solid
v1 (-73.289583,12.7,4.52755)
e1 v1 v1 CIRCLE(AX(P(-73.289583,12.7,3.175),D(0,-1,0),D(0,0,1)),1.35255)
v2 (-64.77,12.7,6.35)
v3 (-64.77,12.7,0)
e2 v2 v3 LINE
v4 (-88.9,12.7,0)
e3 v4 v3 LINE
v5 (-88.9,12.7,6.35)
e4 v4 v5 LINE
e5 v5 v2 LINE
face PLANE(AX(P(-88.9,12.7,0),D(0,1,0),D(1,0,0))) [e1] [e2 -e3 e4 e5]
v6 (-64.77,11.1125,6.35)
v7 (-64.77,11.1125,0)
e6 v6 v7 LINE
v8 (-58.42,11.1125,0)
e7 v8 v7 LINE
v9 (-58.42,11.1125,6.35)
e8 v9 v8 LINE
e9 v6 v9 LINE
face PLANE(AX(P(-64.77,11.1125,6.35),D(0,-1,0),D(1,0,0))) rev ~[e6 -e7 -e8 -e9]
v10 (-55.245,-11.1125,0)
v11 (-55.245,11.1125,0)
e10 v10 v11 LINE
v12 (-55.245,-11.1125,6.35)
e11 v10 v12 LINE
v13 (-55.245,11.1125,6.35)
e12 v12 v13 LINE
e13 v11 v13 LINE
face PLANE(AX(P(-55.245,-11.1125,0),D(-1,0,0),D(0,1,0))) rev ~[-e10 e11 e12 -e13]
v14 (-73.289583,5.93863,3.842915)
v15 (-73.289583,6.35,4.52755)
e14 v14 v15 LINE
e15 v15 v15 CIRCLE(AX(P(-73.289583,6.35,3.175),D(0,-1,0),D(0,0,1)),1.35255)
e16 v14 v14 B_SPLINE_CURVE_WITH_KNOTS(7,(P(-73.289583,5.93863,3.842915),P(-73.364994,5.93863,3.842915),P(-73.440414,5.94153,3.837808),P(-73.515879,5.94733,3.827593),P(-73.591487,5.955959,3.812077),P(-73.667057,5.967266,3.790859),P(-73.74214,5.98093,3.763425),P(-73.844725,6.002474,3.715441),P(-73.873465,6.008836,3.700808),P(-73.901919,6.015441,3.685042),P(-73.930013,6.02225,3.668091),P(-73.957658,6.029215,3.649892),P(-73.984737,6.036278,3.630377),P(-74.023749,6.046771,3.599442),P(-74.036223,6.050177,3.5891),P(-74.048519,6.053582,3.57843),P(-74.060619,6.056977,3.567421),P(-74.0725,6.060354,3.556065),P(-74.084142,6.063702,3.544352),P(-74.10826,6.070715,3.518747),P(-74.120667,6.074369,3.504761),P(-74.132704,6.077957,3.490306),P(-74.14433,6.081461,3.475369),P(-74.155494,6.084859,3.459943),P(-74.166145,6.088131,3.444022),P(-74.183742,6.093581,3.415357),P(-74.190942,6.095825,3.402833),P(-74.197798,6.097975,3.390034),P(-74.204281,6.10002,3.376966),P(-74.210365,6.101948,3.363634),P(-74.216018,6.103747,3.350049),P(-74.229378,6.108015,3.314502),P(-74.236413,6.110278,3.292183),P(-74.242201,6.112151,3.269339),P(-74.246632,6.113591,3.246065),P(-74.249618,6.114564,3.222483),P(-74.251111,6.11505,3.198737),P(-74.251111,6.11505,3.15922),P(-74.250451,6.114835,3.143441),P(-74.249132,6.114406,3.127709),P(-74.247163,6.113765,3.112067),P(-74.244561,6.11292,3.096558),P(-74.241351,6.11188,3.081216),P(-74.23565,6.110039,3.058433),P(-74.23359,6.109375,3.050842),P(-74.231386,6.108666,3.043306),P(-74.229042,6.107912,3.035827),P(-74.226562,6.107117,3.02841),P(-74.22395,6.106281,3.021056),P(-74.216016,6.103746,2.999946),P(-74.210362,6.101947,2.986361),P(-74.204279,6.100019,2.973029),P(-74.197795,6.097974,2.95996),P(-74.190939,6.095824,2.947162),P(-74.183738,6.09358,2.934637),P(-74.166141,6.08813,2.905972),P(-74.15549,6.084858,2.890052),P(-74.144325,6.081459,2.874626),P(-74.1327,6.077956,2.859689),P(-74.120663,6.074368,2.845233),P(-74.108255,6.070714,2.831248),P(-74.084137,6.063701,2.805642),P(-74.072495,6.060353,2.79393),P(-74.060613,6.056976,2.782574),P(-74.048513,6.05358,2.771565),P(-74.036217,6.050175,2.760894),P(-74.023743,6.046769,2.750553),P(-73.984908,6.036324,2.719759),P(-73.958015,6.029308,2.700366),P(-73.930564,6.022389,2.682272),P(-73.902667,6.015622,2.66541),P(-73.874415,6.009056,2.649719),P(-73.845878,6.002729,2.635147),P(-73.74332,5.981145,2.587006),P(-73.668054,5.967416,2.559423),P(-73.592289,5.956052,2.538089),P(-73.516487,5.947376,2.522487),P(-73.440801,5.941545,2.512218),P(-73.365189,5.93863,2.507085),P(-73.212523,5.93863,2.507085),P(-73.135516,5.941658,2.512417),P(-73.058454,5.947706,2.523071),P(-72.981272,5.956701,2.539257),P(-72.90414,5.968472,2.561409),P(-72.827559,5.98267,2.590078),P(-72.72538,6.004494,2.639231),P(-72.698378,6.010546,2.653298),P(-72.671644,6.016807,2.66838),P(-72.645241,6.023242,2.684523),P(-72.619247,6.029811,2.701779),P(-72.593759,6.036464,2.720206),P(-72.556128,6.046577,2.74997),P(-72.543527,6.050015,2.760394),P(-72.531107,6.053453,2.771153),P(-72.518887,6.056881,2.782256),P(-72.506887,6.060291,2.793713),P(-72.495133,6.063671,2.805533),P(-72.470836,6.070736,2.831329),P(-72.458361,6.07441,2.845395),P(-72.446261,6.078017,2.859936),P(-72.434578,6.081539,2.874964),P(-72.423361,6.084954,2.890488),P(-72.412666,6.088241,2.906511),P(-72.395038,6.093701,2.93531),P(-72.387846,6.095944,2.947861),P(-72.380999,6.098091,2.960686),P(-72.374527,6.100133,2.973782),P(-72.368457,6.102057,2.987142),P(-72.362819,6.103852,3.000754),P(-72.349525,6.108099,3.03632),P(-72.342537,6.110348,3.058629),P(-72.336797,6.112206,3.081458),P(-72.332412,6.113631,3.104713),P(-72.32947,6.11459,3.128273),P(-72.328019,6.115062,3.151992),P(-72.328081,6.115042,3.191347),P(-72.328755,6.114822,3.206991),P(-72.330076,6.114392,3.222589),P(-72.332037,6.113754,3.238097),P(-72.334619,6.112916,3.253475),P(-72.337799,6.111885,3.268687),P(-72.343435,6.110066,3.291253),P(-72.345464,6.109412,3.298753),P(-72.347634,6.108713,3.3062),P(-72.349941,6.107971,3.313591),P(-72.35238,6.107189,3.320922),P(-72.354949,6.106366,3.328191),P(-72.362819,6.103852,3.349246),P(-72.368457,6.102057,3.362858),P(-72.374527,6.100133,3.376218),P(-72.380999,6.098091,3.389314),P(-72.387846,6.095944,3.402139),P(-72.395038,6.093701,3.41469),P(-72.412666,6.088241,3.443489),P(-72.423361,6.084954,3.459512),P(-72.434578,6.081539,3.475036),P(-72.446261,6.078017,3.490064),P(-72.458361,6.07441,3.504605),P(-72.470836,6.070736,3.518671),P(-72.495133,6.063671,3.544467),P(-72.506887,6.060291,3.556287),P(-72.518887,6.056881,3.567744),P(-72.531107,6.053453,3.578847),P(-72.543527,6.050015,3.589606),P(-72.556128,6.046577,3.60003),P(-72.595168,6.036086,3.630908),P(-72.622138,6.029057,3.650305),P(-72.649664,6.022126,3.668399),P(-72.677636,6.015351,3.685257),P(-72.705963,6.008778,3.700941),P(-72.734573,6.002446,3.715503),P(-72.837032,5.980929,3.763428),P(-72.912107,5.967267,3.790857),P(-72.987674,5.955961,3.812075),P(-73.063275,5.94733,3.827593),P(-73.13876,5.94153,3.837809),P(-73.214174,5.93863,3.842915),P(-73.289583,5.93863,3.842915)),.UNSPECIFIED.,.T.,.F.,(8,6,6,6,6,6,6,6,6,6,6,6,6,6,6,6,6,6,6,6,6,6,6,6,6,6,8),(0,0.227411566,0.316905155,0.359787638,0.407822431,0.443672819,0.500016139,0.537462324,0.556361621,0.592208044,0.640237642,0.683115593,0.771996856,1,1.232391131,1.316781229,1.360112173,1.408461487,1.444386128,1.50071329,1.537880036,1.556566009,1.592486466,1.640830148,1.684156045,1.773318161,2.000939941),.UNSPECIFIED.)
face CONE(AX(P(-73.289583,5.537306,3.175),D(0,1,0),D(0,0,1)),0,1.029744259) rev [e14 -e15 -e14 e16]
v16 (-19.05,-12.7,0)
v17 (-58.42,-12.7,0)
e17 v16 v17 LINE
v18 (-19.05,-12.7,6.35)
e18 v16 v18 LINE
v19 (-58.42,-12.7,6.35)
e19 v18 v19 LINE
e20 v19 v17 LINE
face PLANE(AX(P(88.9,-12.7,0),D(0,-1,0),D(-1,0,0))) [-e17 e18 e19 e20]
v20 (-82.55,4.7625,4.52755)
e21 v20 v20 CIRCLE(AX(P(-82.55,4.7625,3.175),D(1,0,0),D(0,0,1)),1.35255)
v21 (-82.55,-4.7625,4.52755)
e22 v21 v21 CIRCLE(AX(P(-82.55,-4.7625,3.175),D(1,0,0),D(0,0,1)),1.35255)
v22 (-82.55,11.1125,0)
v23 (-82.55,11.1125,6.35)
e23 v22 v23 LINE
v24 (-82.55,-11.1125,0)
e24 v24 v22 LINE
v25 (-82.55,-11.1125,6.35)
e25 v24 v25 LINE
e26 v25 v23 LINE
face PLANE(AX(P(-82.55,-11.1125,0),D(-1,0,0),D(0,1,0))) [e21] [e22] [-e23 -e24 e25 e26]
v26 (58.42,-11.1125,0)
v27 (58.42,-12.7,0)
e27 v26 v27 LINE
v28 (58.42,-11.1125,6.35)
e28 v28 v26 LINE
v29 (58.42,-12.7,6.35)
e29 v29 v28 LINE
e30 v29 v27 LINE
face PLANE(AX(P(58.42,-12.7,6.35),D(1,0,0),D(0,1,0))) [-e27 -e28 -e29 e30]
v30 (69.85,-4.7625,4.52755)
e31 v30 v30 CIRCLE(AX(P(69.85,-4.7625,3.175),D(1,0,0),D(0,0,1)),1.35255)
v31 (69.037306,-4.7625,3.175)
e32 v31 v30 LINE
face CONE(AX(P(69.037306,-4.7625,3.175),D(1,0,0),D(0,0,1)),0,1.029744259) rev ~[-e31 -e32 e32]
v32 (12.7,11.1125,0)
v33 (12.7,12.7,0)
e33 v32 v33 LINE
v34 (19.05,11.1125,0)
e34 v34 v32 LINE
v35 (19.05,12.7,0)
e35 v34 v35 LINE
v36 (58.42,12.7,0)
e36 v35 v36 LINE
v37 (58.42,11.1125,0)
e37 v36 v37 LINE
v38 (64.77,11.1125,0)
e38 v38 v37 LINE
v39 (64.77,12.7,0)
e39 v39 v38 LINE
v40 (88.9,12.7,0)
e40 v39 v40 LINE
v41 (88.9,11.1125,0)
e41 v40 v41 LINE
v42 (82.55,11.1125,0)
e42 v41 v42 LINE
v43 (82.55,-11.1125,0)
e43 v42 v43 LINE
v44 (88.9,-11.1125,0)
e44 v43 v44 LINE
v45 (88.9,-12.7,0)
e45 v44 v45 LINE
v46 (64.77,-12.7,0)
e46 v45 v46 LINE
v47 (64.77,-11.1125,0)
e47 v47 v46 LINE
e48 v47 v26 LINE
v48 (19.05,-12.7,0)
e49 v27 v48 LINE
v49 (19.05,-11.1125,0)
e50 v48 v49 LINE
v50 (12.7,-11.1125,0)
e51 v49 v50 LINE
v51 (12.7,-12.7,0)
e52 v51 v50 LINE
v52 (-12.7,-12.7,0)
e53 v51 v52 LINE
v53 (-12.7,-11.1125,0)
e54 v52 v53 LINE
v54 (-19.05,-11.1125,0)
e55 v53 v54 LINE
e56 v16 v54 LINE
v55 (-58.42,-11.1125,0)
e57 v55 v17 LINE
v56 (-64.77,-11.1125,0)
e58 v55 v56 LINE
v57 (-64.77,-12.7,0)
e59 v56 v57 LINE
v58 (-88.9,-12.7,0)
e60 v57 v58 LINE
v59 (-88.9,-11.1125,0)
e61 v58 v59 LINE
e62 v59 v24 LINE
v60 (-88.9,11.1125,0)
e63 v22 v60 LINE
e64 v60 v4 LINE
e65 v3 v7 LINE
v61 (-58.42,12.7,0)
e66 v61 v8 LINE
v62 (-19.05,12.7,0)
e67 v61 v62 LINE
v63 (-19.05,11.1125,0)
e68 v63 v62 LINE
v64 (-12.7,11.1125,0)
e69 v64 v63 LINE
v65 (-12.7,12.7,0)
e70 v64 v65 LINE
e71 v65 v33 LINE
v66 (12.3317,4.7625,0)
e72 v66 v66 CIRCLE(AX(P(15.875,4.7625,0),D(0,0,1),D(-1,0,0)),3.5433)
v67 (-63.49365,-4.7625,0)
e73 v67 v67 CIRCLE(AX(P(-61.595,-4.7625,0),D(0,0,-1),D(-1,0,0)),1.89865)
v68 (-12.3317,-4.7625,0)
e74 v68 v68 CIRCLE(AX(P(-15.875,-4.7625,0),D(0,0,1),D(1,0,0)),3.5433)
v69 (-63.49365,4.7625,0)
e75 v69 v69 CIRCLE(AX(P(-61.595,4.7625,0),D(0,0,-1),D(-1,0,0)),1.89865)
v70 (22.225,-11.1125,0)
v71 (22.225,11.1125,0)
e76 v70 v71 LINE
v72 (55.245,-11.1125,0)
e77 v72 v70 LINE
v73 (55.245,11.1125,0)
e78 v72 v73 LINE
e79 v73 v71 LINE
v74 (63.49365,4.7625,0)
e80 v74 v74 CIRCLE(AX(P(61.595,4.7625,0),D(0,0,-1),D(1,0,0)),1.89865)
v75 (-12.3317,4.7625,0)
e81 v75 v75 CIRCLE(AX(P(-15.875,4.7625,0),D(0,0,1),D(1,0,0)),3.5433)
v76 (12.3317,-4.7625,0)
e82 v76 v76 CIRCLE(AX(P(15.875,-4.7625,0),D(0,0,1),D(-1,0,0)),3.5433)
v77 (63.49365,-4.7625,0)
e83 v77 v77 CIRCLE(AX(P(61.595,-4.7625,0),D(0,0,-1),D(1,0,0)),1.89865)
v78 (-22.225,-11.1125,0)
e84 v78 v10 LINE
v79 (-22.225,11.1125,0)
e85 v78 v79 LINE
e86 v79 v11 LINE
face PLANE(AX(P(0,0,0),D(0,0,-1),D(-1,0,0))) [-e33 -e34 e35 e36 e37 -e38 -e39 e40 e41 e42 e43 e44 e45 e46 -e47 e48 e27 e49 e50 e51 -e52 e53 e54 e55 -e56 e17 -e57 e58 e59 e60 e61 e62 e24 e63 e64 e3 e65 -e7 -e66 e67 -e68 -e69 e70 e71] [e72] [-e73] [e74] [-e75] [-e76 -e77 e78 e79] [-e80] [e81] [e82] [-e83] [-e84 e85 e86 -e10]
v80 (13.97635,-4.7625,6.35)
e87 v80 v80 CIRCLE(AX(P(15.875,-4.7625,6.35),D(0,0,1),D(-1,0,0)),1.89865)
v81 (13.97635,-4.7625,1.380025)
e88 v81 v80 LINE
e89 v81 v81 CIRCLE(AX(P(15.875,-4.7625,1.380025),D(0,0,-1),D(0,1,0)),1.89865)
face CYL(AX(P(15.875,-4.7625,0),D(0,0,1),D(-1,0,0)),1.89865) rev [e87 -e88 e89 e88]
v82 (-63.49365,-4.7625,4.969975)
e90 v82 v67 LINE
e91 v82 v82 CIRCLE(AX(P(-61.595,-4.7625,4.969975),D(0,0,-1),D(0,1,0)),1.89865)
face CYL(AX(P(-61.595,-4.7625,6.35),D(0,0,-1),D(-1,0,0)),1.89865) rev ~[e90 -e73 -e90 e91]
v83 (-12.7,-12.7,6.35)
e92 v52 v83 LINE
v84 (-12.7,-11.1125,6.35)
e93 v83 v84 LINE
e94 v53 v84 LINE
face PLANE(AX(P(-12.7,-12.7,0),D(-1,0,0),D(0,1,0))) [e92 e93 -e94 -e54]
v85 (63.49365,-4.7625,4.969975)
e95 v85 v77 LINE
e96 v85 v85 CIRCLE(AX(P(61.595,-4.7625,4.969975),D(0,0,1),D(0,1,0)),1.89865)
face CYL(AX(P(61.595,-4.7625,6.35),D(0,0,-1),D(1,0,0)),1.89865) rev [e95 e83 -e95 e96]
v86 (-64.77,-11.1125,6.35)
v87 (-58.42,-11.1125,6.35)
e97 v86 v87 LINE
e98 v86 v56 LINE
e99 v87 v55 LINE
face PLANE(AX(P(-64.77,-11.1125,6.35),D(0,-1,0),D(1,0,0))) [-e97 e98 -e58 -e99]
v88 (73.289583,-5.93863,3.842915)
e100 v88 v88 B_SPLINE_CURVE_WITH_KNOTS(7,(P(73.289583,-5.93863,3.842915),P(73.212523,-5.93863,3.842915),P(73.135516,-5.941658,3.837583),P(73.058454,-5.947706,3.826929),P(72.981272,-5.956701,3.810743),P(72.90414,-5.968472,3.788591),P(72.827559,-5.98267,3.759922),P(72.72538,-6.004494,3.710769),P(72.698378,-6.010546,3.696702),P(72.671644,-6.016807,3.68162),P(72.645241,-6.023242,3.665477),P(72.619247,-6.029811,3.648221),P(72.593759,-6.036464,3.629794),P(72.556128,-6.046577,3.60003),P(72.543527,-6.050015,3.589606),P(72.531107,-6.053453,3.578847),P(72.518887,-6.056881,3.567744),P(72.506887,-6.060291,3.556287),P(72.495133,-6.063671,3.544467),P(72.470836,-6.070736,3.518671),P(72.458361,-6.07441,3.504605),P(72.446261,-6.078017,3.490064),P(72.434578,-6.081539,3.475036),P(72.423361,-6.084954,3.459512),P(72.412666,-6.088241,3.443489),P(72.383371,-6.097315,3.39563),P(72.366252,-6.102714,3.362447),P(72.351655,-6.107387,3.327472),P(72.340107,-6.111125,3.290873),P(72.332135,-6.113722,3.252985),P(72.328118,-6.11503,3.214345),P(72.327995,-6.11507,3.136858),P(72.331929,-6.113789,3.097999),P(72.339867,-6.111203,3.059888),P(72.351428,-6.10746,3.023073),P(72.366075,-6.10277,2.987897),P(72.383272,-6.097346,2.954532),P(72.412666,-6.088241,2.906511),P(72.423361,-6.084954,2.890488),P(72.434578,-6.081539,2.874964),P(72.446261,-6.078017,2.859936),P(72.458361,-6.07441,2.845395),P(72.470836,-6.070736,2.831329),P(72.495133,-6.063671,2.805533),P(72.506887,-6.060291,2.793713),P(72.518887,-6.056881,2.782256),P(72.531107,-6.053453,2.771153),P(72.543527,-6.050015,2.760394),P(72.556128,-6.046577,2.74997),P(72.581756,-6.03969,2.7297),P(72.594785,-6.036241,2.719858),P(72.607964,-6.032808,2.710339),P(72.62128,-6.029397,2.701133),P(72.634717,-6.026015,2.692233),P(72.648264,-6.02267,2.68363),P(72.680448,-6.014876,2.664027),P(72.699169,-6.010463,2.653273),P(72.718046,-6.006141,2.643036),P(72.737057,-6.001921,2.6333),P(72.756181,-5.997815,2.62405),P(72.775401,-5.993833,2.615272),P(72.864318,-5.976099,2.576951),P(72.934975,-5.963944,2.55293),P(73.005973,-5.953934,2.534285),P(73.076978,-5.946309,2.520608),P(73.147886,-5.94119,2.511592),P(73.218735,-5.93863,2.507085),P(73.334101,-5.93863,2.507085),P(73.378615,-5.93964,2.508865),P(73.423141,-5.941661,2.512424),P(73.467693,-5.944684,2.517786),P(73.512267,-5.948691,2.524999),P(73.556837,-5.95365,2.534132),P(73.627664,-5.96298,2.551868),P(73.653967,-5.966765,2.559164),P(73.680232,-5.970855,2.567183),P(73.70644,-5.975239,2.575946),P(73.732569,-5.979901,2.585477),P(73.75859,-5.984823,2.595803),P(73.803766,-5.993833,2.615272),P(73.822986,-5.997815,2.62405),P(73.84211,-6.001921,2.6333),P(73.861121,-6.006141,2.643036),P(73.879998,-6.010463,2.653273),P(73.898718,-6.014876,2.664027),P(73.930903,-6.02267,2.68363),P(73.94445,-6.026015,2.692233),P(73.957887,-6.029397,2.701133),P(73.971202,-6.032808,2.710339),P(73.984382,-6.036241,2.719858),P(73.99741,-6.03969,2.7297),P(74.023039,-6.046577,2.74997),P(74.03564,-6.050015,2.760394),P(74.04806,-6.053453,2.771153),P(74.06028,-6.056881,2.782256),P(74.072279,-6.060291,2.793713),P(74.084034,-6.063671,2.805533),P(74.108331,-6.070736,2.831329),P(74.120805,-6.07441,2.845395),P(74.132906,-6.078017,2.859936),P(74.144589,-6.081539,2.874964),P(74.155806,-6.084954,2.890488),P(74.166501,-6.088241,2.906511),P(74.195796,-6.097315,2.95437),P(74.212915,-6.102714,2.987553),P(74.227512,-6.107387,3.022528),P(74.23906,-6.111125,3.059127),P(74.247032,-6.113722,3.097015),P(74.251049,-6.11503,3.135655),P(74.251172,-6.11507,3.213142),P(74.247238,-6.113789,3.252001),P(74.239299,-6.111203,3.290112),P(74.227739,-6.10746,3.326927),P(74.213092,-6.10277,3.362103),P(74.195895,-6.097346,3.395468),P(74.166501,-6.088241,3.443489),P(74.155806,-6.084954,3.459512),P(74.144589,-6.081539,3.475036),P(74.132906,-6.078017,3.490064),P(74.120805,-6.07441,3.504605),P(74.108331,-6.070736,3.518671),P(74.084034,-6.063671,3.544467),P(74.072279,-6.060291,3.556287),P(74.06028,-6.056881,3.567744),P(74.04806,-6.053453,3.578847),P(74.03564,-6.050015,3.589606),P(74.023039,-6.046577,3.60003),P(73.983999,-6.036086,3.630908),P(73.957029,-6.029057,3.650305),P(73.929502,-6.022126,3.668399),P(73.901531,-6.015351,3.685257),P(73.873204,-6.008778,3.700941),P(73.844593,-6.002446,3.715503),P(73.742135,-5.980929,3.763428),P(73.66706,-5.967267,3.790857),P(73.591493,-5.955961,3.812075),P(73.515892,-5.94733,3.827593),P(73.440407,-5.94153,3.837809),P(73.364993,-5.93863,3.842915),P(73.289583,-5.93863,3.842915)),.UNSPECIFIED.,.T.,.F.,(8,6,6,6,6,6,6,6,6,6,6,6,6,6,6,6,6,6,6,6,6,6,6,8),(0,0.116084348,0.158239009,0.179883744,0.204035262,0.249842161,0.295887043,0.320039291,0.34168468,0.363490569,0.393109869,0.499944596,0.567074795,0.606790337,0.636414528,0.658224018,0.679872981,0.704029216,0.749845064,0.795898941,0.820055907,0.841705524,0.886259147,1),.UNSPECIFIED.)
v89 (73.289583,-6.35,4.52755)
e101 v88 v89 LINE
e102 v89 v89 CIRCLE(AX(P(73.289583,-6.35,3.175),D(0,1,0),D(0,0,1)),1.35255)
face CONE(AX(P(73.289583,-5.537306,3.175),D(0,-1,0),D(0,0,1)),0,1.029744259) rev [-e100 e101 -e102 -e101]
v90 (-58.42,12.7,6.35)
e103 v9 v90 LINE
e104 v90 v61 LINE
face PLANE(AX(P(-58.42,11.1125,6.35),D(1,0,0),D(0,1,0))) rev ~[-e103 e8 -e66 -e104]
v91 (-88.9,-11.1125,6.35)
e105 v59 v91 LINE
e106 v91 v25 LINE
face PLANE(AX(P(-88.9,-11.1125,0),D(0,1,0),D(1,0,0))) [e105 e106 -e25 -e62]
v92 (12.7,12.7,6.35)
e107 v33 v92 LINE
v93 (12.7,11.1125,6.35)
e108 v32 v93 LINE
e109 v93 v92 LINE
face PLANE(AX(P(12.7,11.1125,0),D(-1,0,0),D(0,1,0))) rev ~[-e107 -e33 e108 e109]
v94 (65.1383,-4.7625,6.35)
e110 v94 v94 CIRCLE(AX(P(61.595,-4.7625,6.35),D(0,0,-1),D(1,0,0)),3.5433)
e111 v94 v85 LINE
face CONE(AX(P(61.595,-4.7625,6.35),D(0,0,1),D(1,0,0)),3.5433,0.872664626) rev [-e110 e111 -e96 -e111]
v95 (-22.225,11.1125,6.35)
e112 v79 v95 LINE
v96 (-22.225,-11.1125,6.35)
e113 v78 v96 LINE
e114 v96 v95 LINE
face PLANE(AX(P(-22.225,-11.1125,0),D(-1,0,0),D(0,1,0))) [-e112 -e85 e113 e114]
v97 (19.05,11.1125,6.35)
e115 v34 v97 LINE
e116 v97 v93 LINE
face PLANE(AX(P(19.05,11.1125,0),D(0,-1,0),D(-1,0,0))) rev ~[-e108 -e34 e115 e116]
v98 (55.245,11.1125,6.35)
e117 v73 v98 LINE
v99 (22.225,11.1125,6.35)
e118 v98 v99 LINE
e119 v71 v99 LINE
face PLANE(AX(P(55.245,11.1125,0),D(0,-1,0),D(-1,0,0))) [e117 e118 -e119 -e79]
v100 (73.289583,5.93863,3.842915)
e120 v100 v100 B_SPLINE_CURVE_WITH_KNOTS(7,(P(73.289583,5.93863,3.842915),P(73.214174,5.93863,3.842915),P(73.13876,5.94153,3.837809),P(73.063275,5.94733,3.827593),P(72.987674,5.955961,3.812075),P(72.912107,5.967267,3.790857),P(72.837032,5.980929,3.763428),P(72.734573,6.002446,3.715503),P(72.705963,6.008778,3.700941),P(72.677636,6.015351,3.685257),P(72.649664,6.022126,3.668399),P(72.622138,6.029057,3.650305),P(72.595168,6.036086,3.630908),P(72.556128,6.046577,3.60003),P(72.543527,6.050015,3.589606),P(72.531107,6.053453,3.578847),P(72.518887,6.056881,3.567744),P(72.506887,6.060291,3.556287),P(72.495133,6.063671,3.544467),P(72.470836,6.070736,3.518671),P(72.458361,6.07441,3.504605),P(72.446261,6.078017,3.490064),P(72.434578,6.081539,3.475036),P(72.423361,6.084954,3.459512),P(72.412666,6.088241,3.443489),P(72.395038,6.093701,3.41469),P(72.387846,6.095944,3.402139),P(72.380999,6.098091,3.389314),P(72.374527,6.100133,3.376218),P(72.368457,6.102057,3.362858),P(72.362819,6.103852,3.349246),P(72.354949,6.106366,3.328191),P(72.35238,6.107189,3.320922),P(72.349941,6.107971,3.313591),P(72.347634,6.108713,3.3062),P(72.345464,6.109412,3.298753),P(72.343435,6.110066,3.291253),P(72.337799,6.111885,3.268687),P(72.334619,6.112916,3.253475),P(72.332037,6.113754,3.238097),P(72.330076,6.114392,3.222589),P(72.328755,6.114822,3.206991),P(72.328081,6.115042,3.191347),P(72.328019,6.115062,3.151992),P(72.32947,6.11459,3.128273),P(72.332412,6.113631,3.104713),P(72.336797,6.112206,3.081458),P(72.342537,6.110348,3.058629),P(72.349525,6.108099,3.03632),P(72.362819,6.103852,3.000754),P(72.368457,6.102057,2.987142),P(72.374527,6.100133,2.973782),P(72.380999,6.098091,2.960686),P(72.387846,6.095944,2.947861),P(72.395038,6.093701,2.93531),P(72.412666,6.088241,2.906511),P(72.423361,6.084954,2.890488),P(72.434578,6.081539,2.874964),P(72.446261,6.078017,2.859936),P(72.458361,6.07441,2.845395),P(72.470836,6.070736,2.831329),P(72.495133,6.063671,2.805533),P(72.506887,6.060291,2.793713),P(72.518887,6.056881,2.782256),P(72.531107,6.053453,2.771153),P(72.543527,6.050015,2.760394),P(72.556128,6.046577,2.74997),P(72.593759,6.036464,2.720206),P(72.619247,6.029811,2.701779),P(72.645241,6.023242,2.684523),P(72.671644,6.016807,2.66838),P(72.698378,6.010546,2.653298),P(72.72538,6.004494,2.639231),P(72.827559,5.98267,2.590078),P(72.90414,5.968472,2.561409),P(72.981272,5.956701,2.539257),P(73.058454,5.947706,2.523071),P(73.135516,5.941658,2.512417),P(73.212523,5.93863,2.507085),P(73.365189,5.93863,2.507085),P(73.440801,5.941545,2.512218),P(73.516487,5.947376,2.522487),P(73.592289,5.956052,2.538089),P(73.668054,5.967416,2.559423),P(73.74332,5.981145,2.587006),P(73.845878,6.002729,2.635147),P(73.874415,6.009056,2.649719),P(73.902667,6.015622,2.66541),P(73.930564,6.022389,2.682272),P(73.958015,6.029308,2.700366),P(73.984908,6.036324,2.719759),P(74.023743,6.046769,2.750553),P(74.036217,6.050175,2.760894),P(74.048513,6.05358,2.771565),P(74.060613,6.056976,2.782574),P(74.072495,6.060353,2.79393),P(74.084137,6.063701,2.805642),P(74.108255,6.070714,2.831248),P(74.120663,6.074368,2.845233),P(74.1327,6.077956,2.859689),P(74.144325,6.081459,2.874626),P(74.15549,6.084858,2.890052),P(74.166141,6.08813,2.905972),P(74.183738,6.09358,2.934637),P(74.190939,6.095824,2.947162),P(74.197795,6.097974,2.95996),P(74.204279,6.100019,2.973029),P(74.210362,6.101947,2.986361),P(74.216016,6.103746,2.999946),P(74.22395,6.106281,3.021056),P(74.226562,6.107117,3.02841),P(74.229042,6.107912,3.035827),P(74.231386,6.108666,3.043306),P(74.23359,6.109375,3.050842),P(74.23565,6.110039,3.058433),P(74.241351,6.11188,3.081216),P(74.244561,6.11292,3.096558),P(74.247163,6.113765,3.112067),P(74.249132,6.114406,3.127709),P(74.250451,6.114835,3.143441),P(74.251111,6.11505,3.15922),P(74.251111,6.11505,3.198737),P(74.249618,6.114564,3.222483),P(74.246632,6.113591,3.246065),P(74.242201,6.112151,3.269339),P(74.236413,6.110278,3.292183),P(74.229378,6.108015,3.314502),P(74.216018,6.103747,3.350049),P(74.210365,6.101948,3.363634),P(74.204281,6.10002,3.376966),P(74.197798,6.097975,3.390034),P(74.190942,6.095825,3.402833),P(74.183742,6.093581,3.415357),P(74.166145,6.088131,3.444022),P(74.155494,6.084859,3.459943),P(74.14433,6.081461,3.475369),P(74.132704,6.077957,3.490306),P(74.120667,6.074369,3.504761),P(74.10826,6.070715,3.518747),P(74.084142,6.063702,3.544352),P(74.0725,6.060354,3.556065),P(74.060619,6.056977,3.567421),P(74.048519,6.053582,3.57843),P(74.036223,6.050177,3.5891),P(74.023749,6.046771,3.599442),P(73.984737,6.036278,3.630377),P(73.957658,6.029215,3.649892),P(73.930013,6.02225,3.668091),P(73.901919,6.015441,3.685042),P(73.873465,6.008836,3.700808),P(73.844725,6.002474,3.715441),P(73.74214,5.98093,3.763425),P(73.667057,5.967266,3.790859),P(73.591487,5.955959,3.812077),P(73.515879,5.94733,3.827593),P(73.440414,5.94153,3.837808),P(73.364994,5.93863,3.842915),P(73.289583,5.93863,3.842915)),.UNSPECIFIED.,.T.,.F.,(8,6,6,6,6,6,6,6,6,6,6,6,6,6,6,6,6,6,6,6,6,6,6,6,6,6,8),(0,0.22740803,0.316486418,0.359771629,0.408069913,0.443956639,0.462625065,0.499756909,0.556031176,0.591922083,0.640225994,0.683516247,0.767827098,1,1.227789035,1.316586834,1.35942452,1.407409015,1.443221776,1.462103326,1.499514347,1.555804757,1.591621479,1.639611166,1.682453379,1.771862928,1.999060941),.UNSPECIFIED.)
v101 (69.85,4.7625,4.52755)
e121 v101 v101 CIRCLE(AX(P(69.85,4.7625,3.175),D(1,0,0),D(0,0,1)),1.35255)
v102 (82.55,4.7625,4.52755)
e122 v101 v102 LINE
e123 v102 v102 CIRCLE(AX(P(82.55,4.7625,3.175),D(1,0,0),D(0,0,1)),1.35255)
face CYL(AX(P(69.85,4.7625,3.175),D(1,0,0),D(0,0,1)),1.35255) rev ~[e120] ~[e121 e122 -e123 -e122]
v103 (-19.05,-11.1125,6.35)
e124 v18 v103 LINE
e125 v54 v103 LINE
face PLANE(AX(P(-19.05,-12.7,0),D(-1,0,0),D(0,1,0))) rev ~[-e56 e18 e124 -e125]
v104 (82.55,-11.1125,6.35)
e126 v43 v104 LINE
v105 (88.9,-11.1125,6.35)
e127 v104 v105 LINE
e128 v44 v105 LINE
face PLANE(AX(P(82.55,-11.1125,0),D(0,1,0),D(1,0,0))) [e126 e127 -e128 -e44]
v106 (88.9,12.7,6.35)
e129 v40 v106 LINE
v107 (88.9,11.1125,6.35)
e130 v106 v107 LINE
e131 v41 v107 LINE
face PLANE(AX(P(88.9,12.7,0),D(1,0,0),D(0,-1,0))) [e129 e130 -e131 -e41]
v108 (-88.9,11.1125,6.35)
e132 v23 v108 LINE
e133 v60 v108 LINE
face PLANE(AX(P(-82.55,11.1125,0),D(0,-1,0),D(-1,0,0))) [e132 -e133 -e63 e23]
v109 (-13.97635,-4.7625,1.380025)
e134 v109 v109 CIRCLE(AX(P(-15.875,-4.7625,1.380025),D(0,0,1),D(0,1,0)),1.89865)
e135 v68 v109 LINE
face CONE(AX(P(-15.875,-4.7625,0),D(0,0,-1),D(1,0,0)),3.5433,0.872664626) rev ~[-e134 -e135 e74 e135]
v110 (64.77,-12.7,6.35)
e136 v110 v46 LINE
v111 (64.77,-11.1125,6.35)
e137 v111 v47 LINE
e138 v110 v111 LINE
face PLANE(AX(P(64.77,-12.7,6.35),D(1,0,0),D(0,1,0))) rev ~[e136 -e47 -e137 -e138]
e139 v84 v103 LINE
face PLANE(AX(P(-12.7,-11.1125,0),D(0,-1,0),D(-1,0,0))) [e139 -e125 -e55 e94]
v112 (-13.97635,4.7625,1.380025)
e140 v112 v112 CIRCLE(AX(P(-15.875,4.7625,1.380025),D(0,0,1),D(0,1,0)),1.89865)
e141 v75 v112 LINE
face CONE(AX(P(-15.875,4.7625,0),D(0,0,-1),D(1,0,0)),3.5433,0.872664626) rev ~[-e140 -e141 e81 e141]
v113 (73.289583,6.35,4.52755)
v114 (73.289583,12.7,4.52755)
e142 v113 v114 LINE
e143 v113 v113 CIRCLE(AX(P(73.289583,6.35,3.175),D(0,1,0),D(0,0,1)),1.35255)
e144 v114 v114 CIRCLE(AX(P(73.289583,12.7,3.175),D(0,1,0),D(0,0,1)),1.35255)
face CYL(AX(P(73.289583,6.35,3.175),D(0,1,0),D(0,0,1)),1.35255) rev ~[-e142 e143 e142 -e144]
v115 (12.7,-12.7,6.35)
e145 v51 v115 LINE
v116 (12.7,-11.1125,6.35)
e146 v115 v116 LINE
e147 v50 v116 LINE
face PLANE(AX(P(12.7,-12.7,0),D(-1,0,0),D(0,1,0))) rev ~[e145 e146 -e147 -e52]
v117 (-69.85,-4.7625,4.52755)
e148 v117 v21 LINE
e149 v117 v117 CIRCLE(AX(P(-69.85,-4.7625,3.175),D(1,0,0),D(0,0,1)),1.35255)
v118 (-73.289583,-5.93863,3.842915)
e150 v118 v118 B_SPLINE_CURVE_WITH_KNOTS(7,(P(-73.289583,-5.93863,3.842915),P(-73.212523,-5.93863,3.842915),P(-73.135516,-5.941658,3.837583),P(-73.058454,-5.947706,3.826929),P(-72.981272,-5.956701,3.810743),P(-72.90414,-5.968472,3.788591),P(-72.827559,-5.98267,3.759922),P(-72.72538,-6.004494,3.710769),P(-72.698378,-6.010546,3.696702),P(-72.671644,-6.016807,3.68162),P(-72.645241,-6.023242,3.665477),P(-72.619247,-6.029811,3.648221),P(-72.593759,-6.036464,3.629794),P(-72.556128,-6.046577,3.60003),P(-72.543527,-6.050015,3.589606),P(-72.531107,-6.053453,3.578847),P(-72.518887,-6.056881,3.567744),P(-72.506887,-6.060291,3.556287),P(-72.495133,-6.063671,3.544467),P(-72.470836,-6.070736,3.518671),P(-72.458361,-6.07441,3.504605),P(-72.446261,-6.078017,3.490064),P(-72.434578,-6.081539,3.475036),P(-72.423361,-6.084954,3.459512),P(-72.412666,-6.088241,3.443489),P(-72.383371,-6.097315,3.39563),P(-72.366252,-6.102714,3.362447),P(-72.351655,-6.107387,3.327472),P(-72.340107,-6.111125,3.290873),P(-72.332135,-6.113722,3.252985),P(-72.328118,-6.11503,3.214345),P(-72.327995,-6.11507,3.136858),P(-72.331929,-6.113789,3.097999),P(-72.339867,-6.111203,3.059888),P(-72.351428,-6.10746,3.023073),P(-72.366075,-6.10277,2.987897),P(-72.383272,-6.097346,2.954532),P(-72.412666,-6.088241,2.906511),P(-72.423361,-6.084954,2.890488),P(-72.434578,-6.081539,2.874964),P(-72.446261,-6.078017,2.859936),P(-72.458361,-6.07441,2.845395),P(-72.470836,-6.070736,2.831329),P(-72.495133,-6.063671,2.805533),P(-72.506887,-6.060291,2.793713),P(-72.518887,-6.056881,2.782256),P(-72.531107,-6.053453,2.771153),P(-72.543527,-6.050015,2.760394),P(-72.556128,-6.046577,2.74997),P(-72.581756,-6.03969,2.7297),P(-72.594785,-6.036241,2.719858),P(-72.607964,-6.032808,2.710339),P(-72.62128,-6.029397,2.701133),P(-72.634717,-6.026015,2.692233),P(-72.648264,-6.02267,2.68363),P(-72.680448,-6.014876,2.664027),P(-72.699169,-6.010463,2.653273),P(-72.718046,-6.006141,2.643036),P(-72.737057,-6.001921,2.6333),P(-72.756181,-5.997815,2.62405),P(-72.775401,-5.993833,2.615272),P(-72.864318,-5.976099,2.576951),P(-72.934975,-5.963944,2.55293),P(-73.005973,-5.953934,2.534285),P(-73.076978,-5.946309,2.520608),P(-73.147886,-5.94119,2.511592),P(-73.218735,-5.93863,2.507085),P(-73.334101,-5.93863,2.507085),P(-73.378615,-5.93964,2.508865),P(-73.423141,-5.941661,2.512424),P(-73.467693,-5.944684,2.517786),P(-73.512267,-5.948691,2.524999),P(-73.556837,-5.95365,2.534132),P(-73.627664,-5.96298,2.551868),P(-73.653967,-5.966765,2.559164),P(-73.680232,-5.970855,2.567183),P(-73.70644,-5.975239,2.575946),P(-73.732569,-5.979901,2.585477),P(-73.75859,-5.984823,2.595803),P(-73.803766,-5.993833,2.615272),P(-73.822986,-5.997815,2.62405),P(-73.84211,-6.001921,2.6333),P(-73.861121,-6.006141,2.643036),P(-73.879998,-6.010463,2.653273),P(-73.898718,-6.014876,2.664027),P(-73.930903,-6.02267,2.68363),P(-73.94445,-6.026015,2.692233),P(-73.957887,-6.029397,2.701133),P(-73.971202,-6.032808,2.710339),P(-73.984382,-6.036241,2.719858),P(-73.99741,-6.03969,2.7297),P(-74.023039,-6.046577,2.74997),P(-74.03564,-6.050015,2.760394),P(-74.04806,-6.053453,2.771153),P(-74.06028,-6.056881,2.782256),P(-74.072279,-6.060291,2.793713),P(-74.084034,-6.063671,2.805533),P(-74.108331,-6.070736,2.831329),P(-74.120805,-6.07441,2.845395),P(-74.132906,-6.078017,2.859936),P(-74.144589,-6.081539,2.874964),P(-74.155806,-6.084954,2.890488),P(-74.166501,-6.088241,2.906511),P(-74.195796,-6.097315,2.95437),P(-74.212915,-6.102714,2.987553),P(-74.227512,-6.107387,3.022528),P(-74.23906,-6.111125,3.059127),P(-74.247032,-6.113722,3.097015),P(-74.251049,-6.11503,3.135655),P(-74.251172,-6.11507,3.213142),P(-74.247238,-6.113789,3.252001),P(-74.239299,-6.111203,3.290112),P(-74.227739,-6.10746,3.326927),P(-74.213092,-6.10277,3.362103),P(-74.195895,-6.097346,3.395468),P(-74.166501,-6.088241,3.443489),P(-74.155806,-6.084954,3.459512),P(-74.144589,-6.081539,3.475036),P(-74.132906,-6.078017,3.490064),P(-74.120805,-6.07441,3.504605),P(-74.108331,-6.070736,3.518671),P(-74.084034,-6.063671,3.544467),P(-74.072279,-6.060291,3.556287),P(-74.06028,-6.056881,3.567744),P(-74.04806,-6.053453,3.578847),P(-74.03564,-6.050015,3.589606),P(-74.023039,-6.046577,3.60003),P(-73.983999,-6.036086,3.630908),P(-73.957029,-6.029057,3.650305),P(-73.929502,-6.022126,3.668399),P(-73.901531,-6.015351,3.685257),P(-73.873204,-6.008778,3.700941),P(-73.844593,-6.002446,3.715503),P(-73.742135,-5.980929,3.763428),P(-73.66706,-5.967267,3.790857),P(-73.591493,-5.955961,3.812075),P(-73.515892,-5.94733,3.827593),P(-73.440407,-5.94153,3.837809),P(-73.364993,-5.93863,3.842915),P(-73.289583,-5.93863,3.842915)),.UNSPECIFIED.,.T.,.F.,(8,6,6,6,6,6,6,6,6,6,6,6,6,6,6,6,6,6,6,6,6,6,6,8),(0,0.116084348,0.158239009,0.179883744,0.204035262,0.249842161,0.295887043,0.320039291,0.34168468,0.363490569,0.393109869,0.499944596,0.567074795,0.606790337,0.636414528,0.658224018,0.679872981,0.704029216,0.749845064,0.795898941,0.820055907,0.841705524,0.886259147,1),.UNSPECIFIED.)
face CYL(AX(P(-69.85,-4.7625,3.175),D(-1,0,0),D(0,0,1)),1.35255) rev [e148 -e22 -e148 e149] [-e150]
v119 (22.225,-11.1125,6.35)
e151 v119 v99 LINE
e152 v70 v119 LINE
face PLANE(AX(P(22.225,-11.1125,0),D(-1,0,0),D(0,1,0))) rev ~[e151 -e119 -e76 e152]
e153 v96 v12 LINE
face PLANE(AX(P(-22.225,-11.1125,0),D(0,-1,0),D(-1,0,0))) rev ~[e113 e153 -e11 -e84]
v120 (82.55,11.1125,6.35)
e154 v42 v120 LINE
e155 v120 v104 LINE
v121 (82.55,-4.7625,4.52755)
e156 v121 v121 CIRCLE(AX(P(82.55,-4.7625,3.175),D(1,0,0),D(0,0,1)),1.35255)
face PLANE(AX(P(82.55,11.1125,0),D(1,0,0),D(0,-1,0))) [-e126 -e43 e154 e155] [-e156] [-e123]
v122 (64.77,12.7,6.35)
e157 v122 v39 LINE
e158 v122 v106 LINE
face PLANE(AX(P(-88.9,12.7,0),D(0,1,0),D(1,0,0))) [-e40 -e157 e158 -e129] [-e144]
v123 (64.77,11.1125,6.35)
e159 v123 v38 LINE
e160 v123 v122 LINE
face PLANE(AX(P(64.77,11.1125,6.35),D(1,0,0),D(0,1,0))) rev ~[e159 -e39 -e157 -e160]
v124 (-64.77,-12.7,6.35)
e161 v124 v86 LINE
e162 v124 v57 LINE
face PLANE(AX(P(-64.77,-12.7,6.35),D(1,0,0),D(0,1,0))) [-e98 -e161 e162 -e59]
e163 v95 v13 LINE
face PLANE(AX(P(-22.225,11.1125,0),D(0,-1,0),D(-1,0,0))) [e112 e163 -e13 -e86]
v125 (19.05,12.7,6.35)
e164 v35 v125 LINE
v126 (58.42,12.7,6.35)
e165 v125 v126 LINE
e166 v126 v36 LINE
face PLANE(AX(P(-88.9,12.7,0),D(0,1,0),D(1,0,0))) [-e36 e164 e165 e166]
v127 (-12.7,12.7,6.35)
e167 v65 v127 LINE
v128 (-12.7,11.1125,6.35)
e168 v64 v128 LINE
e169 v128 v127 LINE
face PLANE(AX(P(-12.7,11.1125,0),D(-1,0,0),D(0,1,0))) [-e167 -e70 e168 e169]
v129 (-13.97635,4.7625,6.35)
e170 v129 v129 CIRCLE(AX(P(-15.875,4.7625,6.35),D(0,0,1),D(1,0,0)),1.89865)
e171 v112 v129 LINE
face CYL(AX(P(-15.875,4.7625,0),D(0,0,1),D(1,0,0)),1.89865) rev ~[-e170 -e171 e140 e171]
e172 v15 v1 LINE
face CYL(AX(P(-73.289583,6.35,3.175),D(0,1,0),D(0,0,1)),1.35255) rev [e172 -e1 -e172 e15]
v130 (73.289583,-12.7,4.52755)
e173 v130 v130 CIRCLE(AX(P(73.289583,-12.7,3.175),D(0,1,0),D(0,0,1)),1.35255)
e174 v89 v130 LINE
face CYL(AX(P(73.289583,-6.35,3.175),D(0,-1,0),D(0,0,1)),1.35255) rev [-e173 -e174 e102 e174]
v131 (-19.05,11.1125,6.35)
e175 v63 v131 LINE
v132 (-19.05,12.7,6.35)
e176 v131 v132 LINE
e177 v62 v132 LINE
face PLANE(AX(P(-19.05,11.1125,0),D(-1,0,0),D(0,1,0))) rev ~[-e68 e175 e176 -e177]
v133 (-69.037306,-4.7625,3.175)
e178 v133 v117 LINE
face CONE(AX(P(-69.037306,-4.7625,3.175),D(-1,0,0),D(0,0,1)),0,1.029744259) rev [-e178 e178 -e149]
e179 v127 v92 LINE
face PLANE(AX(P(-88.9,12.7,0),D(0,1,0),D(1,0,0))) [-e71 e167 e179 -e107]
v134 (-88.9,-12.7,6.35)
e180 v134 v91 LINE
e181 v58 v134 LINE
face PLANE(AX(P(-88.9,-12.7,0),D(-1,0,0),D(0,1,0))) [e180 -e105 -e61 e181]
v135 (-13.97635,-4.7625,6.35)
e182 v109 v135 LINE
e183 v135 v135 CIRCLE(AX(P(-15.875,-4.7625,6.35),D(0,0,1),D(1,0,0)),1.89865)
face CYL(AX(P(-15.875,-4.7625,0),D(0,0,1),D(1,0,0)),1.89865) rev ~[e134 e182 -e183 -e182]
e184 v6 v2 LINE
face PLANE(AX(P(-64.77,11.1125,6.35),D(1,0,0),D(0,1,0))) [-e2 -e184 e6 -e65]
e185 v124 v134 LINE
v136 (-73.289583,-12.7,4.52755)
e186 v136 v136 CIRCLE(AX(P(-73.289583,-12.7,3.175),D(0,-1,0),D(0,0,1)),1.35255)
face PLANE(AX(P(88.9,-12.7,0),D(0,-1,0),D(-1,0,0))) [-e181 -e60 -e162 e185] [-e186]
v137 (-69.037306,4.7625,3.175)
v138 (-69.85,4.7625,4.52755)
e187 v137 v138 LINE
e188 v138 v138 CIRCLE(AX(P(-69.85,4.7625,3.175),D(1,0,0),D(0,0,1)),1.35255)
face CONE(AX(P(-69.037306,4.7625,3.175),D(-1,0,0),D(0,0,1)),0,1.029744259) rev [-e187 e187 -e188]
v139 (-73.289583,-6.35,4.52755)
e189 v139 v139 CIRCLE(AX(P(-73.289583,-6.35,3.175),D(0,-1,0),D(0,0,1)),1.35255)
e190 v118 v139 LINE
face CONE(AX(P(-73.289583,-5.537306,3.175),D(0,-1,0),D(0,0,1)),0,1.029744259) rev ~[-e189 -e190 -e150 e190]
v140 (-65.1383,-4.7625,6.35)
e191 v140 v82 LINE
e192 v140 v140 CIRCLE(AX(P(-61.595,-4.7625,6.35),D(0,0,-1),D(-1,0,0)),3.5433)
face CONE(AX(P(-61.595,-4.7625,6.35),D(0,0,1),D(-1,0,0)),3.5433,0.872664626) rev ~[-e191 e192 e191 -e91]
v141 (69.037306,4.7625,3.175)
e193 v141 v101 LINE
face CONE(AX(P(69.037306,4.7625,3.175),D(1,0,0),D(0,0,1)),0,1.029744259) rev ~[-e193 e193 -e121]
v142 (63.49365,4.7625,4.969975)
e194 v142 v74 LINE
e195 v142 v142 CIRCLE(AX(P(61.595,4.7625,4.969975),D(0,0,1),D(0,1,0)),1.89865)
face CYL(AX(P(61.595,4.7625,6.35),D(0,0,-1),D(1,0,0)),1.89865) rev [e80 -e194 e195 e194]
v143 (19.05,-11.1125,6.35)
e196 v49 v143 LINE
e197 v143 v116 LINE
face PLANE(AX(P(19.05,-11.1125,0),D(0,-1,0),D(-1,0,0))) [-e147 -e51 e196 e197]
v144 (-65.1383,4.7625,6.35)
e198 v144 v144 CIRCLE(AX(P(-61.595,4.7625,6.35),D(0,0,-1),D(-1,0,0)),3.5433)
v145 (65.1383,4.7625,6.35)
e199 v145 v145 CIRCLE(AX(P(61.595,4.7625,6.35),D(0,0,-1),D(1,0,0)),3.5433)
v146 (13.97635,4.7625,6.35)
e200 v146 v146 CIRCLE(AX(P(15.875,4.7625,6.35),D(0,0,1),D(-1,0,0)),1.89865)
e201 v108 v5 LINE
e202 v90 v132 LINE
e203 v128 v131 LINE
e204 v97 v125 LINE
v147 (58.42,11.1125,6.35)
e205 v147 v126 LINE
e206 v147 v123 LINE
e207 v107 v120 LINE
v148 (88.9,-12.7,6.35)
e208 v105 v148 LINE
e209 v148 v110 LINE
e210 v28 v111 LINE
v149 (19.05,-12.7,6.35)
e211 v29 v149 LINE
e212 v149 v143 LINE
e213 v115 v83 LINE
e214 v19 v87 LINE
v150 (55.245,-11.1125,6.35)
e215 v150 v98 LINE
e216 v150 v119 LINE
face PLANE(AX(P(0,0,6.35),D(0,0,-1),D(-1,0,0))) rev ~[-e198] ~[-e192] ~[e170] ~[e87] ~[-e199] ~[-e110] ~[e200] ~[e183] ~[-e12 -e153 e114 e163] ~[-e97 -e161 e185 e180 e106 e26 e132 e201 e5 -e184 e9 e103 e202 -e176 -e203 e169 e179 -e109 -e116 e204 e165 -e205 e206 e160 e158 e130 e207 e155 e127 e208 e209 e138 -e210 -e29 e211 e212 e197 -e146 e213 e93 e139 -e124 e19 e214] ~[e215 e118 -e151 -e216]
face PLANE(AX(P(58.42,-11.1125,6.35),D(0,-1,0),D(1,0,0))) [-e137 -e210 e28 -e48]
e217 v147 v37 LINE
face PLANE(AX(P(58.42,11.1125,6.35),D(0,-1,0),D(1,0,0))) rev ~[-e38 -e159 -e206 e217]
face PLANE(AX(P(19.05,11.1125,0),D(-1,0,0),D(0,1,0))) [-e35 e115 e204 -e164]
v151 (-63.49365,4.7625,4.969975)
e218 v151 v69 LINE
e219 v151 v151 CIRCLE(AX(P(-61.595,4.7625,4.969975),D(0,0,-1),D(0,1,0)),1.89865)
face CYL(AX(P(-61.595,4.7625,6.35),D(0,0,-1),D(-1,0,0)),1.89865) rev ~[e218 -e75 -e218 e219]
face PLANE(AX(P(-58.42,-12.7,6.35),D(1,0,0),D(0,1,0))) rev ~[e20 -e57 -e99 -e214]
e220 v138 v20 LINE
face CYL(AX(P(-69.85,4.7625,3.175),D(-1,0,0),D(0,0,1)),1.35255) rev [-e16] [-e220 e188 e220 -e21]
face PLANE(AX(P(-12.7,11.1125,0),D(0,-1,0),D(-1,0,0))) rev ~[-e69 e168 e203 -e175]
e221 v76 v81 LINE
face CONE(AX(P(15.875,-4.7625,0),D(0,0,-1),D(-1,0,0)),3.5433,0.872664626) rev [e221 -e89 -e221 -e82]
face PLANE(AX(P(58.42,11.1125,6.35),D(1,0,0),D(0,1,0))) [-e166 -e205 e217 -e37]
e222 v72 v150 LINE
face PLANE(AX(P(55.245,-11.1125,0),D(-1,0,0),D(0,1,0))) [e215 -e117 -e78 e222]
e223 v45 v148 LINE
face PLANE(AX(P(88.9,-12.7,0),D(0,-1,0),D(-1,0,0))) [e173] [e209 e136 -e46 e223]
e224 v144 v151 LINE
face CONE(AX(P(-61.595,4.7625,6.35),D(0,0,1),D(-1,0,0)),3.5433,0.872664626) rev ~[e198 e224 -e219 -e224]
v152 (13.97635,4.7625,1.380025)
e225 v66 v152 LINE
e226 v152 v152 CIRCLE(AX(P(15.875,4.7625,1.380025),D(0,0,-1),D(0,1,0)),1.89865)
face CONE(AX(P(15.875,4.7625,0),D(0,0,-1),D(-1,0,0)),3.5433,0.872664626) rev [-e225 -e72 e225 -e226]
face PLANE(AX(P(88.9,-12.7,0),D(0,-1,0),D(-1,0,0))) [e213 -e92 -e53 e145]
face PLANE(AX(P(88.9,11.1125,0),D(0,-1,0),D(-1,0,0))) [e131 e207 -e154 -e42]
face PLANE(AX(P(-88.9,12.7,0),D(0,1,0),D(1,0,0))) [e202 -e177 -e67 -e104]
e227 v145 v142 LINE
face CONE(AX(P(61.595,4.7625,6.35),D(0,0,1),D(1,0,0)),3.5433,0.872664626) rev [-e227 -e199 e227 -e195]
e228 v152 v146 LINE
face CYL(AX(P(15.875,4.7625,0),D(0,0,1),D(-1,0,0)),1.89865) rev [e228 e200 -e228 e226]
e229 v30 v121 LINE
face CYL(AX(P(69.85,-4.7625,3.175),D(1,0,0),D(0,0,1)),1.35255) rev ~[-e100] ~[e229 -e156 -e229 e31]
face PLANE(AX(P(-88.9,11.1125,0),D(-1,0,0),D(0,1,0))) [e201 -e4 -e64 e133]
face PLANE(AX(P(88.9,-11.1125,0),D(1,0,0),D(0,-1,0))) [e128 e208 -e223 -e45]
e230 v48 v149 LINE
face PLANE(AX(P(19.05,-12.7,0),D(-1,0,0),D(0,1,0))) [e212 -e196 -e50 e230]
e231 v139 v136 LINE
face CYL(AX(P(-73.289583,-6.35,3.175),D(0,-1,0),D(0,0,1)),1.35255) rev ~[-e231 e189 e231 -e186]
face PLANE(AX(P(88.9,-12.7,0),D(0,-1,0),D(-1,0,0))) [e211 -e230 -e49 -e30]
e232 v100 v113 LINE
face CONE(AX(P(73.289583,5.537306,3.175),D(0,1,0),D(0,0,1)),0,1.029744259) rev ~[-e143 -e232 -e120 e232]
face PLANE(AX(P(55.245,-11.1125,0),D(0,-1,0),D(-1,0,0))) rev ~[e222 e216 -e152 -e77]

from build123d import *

# Parameters (mm, degrees)
BOSS_EXTRUDE1_DEPTH                               = 6.35
TAP_DRILL_FOR_6_32_TAP1_AT_2_COUNT                = 2
TAP_DRILL_FOR_6_32_TAP1_AT_2_PITCH                = 9.525
SKETCH7_W                                         = 6.35
SKETCH7_H                                         = 1.5875
CUT_EXTRUDE1_DEPTH                                = 91.02678768
SKETCH10_W                                        = 6.35
SKETCH10_H                                        = 1.5875
SKETCH10_W_2                                      = 33.02
SKETCH10_H_2                                      = 22.225
CUT_EXTRUDE5_DEPTH                                = 91.02678768
CSK_FOR_6_FLAT_HEAD_MACHINE_SCREW_100_D           = 3.7973
CSK_FOR_6_FLAT_HEAD_MACHINE_SCREW_100_CSINK_D     = 7.0866
CSK_FOR_6_FLAT_HEAD_MACHINE_SCREW_100_CSINK_ANGLE = 100
CSK_FOR_6_FLAT_HEAD_MACHINE_SCREW_2_D             = 3.7973
CSK_FOR_6_FLAT_HEAD_MACHINE_SCREW_2_CSINK_D       = 7.0866
CSK_FOR_6_FLAT_HEAD_MACHINE_SCREW_2_CSINK_ANGLE   = 100


with BuildPart() as part:
    # Sketch1 → Boss-Extrude1 (new body)
    with BuildSketch(Plane.XY):
        Polygon((-88.9, 12.7), (88.9, 12.7), (88.9, 11.1125), (82.55, 11.1125), (82.55, -11.1125), (88.9, -11.1125), (88.9, -12.7), (-88.9, -12.7), (-88.9, -11.1125), (-82.55, -11.1125), (-82.55, 11.1125), (-88.9, 11.1125), align=None)
    extrude(amount=BOSS_EXTRUDE1_DEPTH)

    # Sketch4 → Tap Drill for #6-32 Tap1 (revolve, cut)
    with BuildSketch(Plane(origin=(-82.55, 4.7625, 3.175), x_dir=(0, 0, 1), z_dir=(0, 1, 0))):
        Polygon((0, 0), (0, 13.51269403), (1.35255, 12.7), (1.35255, 0), align=None)
    tap_drill_for_6_32_tap1 = revolve(axis=Axis((-88.9, 4.7625, 3.175), (1, 0, 0)), mode=Mode.SUBTRACT)

    # Tap Drill for #6-32 Tap1 at 2: Tap Drill for #6-32 Tap1 ×2
    with Locations(*[(0, -i * TAP_DRILL_FOR_6_32_TAP1_AT_2_PITCH, 0) for i in range(1, TAP_DRILL_FOR_6_32_TAP1_AT_2_COUNT)]):
        add(tap_drill_for_6_32_tap1, mode=Mode.SUBTRACT)

    # Mirror1: Tap Drill for #6-32 Tap1 across plane
    add(tap_drill_for_6_32_tap1.mirror(Plane(origin=(0, 0, 0), x_dir=(0, 0, 1), z_dir=(1, 0, 0))), mode=Mode.SUBTRACT)

    # Mirror1 copy 1 sketch → Mirror1 copy 1 (revolve, cut)
    with BuildSketch(Plane(origin=(82.55, -4.7625, 3.175), x_dir=(0, 0, 1), z_dir=(0, 1, 0))):
        Polygon((0, 0), (0, -13.51269403), (1.35255, -12.7), (1.35255, 0), align=None)
    revolve(axis=Axis((88.9, -4.7625, 3.175), (1, 0, 0)), mode=Mode.SUBTRACT)

    # Sketch5 → Tap Drill for #6-32 Tap2 (revolve, cut)
    with BuildSketch(Plane(origin=(-73.289583418, 12.7, 3.175), x_dir=(0, 0, 1), z_dir=(1, 0, 0))):
        Polygon((0, 0), (0, 7.16269403), (1.35255, 6.35), (1.35255, 0), align=None)
    tap_drill_for_6_32_tap2 = revolve(axis=Axis((-73.289583418, 19.05, 3.175), (0, -1, 0)), mode=Mode.SUBTRACT)

    # Mirror2: Tap Drill for #6-32 Tap2 across plane
    add(tap_drill_for_6_32_tap2.mirror(Plane(origin=(0, 0, 0), x_dir=(0, 0, 1), z_dir=(1, 0, 0))), mode=Mode.SUBTRACT)

    # Mirror3: Tap Drill for #6-32 Tap2 across plane
    add(tap_drill_for_6_32_tap2.mirror(Plane(origin=(0, 0, 0), x_dir=(0, 0, 1), z_dir=(0, -1, 0))), mode=Mode.SUBTRACT)

    # Mirror3 copy 1 sketch → Mirror3 copy 1 (revolve, cut)
    with BuildSketch(Plane(origin=(73.289583418, -12.7, 3.175), x_dir=(0, 0, 1), z_dir=(-1, 0, 0))):
        Polygon((0, 0), (0, 7.16269403), (1.35255, 6.35), (1.35255, 0), align=None)
    revolve(axis=Axis((73.289583418, -19.05, 3.175), (0, 1, 0)), mode=Mode.SUBTRACT)

    # Sketch7 → Cut-Extrude1 (cut, through all)
    with BuildSketch(Plane.XY.offset(6.35)):
        with Locations((-61.595, 11.90625)):
            Rectangle(SKETCH7_W, SKETCH7_H)
        with Locations((-61.595, -11.90625)):
            Rectangle(SKETCH7_W, SKETCH7_H)
        with Locations((61.595, -11.90625)):
            Rectangle(SKETCH7_W, SKETCH7_H)
        with Locations((61.595, 11.90625)):
            Rectangle(SKETCH7_W, SKETCH7_H)
    extrude(amount=-CUT_EXTRUDE1_DEPTH, mode=Mode.SUBTRACT)

    # Sketch10 → Cut-Extrude5 (cut, through all)
    with BuildSketch(Plane(origin=(0, 0, 0), x_dir=(-1, 0, 0), z_dir=(0, 0, -1))):
        with Locations((-15.875, 11.90625)):
            Rectangle(SKETCH10_W, SKETCH10_H)
        with Locations((15.875, 11.90625)):
            Rectangle(SKETCH10_W, SKETCH10_H)
        with Locations((-15.875, -11.90625)):
            Rectangle(SKETCH10_W, SKETCH10_H)
        with Locations((15.875, -11.90625)):
            Rectangle(SKETCH10_W, SKETCH10_H)
        with Locations((-38.735, 0)):
            Rectangle(SKETCH10_W_2, SKETCH10_H_2)
        with Locations((38.735, 0)):
            Rectangle(SKETCH10_W_2, SKETCH10_H_2)
    extrude(amount=-CUT_EXTRUDE5_DEPTH, mode=Mode.SUBTRACT)

    # CSK for _6 Flat Head Machine Screw _100 (through all)
    with Locations(Plane.XY.offset(6.35)):
        with Locations((-61.595, 4.7625), (-61.595, -4.7625)):
            csk_for_6_flat_head_machine_screw_100 = CounterSinkHole(CSK_FOR_6_FLAT_HEAD_MACHINE_SCREW_100_D / 2, CSK_FOR_6_FLAT_HEAD_MACHINE_SCREW_100_CSINK_D / 2, counter_sink_angle=CSK_FOR_6_FLAT_HEAD_MACHINE_SCREW_100_CSINK_ANGLE)

    # CSK for _6 Flat Head Machine Screw _ 2 (through all)
    with Locations(Plane(origin=(0, 0, 0), x_dir=(-1, 0, 0), z_dir=(0, 0, -1))):
        with Locations((15.875, 4.7625), (15.875, -4.7625)):
            csk_for_6_flat_head_machine_screw_2 = CounterSinkHole(CSK_FOR_6_FLAT_HEAD_MACHINE_SCREW_2_D / 2, CSK_FOR_6_FLAT_HEAD_MACHINE_SCREW_2_CSINK_D / 2, counter_sink_angle=CSK_FOR_6_FLAT_HEAD_MACHINE_SCREW_2_CSINK_ANGLE)

    # Mirror5: CSK for _6 Flat Head Machine Screw _100, CSK for _6 Flat Head Machine Screw _ 2 across plane
    add(csk_for_6_flat_head_machine_screw_100.mirror(Plane(origin=(0, 0, 0), x_dir=(0, 0, 1), z_dir=(1, 0, 0))), mode=Mode.SUBTRACT)
    add(csk_for_6_flat_head_machine_screw_2.mirror(Plane(origin=(0, 0, 0), x_dir=(0, 0, 1), z_dir=(1, 0, 0))), mode=Mode.SUBTRACT)


solid = part.part
